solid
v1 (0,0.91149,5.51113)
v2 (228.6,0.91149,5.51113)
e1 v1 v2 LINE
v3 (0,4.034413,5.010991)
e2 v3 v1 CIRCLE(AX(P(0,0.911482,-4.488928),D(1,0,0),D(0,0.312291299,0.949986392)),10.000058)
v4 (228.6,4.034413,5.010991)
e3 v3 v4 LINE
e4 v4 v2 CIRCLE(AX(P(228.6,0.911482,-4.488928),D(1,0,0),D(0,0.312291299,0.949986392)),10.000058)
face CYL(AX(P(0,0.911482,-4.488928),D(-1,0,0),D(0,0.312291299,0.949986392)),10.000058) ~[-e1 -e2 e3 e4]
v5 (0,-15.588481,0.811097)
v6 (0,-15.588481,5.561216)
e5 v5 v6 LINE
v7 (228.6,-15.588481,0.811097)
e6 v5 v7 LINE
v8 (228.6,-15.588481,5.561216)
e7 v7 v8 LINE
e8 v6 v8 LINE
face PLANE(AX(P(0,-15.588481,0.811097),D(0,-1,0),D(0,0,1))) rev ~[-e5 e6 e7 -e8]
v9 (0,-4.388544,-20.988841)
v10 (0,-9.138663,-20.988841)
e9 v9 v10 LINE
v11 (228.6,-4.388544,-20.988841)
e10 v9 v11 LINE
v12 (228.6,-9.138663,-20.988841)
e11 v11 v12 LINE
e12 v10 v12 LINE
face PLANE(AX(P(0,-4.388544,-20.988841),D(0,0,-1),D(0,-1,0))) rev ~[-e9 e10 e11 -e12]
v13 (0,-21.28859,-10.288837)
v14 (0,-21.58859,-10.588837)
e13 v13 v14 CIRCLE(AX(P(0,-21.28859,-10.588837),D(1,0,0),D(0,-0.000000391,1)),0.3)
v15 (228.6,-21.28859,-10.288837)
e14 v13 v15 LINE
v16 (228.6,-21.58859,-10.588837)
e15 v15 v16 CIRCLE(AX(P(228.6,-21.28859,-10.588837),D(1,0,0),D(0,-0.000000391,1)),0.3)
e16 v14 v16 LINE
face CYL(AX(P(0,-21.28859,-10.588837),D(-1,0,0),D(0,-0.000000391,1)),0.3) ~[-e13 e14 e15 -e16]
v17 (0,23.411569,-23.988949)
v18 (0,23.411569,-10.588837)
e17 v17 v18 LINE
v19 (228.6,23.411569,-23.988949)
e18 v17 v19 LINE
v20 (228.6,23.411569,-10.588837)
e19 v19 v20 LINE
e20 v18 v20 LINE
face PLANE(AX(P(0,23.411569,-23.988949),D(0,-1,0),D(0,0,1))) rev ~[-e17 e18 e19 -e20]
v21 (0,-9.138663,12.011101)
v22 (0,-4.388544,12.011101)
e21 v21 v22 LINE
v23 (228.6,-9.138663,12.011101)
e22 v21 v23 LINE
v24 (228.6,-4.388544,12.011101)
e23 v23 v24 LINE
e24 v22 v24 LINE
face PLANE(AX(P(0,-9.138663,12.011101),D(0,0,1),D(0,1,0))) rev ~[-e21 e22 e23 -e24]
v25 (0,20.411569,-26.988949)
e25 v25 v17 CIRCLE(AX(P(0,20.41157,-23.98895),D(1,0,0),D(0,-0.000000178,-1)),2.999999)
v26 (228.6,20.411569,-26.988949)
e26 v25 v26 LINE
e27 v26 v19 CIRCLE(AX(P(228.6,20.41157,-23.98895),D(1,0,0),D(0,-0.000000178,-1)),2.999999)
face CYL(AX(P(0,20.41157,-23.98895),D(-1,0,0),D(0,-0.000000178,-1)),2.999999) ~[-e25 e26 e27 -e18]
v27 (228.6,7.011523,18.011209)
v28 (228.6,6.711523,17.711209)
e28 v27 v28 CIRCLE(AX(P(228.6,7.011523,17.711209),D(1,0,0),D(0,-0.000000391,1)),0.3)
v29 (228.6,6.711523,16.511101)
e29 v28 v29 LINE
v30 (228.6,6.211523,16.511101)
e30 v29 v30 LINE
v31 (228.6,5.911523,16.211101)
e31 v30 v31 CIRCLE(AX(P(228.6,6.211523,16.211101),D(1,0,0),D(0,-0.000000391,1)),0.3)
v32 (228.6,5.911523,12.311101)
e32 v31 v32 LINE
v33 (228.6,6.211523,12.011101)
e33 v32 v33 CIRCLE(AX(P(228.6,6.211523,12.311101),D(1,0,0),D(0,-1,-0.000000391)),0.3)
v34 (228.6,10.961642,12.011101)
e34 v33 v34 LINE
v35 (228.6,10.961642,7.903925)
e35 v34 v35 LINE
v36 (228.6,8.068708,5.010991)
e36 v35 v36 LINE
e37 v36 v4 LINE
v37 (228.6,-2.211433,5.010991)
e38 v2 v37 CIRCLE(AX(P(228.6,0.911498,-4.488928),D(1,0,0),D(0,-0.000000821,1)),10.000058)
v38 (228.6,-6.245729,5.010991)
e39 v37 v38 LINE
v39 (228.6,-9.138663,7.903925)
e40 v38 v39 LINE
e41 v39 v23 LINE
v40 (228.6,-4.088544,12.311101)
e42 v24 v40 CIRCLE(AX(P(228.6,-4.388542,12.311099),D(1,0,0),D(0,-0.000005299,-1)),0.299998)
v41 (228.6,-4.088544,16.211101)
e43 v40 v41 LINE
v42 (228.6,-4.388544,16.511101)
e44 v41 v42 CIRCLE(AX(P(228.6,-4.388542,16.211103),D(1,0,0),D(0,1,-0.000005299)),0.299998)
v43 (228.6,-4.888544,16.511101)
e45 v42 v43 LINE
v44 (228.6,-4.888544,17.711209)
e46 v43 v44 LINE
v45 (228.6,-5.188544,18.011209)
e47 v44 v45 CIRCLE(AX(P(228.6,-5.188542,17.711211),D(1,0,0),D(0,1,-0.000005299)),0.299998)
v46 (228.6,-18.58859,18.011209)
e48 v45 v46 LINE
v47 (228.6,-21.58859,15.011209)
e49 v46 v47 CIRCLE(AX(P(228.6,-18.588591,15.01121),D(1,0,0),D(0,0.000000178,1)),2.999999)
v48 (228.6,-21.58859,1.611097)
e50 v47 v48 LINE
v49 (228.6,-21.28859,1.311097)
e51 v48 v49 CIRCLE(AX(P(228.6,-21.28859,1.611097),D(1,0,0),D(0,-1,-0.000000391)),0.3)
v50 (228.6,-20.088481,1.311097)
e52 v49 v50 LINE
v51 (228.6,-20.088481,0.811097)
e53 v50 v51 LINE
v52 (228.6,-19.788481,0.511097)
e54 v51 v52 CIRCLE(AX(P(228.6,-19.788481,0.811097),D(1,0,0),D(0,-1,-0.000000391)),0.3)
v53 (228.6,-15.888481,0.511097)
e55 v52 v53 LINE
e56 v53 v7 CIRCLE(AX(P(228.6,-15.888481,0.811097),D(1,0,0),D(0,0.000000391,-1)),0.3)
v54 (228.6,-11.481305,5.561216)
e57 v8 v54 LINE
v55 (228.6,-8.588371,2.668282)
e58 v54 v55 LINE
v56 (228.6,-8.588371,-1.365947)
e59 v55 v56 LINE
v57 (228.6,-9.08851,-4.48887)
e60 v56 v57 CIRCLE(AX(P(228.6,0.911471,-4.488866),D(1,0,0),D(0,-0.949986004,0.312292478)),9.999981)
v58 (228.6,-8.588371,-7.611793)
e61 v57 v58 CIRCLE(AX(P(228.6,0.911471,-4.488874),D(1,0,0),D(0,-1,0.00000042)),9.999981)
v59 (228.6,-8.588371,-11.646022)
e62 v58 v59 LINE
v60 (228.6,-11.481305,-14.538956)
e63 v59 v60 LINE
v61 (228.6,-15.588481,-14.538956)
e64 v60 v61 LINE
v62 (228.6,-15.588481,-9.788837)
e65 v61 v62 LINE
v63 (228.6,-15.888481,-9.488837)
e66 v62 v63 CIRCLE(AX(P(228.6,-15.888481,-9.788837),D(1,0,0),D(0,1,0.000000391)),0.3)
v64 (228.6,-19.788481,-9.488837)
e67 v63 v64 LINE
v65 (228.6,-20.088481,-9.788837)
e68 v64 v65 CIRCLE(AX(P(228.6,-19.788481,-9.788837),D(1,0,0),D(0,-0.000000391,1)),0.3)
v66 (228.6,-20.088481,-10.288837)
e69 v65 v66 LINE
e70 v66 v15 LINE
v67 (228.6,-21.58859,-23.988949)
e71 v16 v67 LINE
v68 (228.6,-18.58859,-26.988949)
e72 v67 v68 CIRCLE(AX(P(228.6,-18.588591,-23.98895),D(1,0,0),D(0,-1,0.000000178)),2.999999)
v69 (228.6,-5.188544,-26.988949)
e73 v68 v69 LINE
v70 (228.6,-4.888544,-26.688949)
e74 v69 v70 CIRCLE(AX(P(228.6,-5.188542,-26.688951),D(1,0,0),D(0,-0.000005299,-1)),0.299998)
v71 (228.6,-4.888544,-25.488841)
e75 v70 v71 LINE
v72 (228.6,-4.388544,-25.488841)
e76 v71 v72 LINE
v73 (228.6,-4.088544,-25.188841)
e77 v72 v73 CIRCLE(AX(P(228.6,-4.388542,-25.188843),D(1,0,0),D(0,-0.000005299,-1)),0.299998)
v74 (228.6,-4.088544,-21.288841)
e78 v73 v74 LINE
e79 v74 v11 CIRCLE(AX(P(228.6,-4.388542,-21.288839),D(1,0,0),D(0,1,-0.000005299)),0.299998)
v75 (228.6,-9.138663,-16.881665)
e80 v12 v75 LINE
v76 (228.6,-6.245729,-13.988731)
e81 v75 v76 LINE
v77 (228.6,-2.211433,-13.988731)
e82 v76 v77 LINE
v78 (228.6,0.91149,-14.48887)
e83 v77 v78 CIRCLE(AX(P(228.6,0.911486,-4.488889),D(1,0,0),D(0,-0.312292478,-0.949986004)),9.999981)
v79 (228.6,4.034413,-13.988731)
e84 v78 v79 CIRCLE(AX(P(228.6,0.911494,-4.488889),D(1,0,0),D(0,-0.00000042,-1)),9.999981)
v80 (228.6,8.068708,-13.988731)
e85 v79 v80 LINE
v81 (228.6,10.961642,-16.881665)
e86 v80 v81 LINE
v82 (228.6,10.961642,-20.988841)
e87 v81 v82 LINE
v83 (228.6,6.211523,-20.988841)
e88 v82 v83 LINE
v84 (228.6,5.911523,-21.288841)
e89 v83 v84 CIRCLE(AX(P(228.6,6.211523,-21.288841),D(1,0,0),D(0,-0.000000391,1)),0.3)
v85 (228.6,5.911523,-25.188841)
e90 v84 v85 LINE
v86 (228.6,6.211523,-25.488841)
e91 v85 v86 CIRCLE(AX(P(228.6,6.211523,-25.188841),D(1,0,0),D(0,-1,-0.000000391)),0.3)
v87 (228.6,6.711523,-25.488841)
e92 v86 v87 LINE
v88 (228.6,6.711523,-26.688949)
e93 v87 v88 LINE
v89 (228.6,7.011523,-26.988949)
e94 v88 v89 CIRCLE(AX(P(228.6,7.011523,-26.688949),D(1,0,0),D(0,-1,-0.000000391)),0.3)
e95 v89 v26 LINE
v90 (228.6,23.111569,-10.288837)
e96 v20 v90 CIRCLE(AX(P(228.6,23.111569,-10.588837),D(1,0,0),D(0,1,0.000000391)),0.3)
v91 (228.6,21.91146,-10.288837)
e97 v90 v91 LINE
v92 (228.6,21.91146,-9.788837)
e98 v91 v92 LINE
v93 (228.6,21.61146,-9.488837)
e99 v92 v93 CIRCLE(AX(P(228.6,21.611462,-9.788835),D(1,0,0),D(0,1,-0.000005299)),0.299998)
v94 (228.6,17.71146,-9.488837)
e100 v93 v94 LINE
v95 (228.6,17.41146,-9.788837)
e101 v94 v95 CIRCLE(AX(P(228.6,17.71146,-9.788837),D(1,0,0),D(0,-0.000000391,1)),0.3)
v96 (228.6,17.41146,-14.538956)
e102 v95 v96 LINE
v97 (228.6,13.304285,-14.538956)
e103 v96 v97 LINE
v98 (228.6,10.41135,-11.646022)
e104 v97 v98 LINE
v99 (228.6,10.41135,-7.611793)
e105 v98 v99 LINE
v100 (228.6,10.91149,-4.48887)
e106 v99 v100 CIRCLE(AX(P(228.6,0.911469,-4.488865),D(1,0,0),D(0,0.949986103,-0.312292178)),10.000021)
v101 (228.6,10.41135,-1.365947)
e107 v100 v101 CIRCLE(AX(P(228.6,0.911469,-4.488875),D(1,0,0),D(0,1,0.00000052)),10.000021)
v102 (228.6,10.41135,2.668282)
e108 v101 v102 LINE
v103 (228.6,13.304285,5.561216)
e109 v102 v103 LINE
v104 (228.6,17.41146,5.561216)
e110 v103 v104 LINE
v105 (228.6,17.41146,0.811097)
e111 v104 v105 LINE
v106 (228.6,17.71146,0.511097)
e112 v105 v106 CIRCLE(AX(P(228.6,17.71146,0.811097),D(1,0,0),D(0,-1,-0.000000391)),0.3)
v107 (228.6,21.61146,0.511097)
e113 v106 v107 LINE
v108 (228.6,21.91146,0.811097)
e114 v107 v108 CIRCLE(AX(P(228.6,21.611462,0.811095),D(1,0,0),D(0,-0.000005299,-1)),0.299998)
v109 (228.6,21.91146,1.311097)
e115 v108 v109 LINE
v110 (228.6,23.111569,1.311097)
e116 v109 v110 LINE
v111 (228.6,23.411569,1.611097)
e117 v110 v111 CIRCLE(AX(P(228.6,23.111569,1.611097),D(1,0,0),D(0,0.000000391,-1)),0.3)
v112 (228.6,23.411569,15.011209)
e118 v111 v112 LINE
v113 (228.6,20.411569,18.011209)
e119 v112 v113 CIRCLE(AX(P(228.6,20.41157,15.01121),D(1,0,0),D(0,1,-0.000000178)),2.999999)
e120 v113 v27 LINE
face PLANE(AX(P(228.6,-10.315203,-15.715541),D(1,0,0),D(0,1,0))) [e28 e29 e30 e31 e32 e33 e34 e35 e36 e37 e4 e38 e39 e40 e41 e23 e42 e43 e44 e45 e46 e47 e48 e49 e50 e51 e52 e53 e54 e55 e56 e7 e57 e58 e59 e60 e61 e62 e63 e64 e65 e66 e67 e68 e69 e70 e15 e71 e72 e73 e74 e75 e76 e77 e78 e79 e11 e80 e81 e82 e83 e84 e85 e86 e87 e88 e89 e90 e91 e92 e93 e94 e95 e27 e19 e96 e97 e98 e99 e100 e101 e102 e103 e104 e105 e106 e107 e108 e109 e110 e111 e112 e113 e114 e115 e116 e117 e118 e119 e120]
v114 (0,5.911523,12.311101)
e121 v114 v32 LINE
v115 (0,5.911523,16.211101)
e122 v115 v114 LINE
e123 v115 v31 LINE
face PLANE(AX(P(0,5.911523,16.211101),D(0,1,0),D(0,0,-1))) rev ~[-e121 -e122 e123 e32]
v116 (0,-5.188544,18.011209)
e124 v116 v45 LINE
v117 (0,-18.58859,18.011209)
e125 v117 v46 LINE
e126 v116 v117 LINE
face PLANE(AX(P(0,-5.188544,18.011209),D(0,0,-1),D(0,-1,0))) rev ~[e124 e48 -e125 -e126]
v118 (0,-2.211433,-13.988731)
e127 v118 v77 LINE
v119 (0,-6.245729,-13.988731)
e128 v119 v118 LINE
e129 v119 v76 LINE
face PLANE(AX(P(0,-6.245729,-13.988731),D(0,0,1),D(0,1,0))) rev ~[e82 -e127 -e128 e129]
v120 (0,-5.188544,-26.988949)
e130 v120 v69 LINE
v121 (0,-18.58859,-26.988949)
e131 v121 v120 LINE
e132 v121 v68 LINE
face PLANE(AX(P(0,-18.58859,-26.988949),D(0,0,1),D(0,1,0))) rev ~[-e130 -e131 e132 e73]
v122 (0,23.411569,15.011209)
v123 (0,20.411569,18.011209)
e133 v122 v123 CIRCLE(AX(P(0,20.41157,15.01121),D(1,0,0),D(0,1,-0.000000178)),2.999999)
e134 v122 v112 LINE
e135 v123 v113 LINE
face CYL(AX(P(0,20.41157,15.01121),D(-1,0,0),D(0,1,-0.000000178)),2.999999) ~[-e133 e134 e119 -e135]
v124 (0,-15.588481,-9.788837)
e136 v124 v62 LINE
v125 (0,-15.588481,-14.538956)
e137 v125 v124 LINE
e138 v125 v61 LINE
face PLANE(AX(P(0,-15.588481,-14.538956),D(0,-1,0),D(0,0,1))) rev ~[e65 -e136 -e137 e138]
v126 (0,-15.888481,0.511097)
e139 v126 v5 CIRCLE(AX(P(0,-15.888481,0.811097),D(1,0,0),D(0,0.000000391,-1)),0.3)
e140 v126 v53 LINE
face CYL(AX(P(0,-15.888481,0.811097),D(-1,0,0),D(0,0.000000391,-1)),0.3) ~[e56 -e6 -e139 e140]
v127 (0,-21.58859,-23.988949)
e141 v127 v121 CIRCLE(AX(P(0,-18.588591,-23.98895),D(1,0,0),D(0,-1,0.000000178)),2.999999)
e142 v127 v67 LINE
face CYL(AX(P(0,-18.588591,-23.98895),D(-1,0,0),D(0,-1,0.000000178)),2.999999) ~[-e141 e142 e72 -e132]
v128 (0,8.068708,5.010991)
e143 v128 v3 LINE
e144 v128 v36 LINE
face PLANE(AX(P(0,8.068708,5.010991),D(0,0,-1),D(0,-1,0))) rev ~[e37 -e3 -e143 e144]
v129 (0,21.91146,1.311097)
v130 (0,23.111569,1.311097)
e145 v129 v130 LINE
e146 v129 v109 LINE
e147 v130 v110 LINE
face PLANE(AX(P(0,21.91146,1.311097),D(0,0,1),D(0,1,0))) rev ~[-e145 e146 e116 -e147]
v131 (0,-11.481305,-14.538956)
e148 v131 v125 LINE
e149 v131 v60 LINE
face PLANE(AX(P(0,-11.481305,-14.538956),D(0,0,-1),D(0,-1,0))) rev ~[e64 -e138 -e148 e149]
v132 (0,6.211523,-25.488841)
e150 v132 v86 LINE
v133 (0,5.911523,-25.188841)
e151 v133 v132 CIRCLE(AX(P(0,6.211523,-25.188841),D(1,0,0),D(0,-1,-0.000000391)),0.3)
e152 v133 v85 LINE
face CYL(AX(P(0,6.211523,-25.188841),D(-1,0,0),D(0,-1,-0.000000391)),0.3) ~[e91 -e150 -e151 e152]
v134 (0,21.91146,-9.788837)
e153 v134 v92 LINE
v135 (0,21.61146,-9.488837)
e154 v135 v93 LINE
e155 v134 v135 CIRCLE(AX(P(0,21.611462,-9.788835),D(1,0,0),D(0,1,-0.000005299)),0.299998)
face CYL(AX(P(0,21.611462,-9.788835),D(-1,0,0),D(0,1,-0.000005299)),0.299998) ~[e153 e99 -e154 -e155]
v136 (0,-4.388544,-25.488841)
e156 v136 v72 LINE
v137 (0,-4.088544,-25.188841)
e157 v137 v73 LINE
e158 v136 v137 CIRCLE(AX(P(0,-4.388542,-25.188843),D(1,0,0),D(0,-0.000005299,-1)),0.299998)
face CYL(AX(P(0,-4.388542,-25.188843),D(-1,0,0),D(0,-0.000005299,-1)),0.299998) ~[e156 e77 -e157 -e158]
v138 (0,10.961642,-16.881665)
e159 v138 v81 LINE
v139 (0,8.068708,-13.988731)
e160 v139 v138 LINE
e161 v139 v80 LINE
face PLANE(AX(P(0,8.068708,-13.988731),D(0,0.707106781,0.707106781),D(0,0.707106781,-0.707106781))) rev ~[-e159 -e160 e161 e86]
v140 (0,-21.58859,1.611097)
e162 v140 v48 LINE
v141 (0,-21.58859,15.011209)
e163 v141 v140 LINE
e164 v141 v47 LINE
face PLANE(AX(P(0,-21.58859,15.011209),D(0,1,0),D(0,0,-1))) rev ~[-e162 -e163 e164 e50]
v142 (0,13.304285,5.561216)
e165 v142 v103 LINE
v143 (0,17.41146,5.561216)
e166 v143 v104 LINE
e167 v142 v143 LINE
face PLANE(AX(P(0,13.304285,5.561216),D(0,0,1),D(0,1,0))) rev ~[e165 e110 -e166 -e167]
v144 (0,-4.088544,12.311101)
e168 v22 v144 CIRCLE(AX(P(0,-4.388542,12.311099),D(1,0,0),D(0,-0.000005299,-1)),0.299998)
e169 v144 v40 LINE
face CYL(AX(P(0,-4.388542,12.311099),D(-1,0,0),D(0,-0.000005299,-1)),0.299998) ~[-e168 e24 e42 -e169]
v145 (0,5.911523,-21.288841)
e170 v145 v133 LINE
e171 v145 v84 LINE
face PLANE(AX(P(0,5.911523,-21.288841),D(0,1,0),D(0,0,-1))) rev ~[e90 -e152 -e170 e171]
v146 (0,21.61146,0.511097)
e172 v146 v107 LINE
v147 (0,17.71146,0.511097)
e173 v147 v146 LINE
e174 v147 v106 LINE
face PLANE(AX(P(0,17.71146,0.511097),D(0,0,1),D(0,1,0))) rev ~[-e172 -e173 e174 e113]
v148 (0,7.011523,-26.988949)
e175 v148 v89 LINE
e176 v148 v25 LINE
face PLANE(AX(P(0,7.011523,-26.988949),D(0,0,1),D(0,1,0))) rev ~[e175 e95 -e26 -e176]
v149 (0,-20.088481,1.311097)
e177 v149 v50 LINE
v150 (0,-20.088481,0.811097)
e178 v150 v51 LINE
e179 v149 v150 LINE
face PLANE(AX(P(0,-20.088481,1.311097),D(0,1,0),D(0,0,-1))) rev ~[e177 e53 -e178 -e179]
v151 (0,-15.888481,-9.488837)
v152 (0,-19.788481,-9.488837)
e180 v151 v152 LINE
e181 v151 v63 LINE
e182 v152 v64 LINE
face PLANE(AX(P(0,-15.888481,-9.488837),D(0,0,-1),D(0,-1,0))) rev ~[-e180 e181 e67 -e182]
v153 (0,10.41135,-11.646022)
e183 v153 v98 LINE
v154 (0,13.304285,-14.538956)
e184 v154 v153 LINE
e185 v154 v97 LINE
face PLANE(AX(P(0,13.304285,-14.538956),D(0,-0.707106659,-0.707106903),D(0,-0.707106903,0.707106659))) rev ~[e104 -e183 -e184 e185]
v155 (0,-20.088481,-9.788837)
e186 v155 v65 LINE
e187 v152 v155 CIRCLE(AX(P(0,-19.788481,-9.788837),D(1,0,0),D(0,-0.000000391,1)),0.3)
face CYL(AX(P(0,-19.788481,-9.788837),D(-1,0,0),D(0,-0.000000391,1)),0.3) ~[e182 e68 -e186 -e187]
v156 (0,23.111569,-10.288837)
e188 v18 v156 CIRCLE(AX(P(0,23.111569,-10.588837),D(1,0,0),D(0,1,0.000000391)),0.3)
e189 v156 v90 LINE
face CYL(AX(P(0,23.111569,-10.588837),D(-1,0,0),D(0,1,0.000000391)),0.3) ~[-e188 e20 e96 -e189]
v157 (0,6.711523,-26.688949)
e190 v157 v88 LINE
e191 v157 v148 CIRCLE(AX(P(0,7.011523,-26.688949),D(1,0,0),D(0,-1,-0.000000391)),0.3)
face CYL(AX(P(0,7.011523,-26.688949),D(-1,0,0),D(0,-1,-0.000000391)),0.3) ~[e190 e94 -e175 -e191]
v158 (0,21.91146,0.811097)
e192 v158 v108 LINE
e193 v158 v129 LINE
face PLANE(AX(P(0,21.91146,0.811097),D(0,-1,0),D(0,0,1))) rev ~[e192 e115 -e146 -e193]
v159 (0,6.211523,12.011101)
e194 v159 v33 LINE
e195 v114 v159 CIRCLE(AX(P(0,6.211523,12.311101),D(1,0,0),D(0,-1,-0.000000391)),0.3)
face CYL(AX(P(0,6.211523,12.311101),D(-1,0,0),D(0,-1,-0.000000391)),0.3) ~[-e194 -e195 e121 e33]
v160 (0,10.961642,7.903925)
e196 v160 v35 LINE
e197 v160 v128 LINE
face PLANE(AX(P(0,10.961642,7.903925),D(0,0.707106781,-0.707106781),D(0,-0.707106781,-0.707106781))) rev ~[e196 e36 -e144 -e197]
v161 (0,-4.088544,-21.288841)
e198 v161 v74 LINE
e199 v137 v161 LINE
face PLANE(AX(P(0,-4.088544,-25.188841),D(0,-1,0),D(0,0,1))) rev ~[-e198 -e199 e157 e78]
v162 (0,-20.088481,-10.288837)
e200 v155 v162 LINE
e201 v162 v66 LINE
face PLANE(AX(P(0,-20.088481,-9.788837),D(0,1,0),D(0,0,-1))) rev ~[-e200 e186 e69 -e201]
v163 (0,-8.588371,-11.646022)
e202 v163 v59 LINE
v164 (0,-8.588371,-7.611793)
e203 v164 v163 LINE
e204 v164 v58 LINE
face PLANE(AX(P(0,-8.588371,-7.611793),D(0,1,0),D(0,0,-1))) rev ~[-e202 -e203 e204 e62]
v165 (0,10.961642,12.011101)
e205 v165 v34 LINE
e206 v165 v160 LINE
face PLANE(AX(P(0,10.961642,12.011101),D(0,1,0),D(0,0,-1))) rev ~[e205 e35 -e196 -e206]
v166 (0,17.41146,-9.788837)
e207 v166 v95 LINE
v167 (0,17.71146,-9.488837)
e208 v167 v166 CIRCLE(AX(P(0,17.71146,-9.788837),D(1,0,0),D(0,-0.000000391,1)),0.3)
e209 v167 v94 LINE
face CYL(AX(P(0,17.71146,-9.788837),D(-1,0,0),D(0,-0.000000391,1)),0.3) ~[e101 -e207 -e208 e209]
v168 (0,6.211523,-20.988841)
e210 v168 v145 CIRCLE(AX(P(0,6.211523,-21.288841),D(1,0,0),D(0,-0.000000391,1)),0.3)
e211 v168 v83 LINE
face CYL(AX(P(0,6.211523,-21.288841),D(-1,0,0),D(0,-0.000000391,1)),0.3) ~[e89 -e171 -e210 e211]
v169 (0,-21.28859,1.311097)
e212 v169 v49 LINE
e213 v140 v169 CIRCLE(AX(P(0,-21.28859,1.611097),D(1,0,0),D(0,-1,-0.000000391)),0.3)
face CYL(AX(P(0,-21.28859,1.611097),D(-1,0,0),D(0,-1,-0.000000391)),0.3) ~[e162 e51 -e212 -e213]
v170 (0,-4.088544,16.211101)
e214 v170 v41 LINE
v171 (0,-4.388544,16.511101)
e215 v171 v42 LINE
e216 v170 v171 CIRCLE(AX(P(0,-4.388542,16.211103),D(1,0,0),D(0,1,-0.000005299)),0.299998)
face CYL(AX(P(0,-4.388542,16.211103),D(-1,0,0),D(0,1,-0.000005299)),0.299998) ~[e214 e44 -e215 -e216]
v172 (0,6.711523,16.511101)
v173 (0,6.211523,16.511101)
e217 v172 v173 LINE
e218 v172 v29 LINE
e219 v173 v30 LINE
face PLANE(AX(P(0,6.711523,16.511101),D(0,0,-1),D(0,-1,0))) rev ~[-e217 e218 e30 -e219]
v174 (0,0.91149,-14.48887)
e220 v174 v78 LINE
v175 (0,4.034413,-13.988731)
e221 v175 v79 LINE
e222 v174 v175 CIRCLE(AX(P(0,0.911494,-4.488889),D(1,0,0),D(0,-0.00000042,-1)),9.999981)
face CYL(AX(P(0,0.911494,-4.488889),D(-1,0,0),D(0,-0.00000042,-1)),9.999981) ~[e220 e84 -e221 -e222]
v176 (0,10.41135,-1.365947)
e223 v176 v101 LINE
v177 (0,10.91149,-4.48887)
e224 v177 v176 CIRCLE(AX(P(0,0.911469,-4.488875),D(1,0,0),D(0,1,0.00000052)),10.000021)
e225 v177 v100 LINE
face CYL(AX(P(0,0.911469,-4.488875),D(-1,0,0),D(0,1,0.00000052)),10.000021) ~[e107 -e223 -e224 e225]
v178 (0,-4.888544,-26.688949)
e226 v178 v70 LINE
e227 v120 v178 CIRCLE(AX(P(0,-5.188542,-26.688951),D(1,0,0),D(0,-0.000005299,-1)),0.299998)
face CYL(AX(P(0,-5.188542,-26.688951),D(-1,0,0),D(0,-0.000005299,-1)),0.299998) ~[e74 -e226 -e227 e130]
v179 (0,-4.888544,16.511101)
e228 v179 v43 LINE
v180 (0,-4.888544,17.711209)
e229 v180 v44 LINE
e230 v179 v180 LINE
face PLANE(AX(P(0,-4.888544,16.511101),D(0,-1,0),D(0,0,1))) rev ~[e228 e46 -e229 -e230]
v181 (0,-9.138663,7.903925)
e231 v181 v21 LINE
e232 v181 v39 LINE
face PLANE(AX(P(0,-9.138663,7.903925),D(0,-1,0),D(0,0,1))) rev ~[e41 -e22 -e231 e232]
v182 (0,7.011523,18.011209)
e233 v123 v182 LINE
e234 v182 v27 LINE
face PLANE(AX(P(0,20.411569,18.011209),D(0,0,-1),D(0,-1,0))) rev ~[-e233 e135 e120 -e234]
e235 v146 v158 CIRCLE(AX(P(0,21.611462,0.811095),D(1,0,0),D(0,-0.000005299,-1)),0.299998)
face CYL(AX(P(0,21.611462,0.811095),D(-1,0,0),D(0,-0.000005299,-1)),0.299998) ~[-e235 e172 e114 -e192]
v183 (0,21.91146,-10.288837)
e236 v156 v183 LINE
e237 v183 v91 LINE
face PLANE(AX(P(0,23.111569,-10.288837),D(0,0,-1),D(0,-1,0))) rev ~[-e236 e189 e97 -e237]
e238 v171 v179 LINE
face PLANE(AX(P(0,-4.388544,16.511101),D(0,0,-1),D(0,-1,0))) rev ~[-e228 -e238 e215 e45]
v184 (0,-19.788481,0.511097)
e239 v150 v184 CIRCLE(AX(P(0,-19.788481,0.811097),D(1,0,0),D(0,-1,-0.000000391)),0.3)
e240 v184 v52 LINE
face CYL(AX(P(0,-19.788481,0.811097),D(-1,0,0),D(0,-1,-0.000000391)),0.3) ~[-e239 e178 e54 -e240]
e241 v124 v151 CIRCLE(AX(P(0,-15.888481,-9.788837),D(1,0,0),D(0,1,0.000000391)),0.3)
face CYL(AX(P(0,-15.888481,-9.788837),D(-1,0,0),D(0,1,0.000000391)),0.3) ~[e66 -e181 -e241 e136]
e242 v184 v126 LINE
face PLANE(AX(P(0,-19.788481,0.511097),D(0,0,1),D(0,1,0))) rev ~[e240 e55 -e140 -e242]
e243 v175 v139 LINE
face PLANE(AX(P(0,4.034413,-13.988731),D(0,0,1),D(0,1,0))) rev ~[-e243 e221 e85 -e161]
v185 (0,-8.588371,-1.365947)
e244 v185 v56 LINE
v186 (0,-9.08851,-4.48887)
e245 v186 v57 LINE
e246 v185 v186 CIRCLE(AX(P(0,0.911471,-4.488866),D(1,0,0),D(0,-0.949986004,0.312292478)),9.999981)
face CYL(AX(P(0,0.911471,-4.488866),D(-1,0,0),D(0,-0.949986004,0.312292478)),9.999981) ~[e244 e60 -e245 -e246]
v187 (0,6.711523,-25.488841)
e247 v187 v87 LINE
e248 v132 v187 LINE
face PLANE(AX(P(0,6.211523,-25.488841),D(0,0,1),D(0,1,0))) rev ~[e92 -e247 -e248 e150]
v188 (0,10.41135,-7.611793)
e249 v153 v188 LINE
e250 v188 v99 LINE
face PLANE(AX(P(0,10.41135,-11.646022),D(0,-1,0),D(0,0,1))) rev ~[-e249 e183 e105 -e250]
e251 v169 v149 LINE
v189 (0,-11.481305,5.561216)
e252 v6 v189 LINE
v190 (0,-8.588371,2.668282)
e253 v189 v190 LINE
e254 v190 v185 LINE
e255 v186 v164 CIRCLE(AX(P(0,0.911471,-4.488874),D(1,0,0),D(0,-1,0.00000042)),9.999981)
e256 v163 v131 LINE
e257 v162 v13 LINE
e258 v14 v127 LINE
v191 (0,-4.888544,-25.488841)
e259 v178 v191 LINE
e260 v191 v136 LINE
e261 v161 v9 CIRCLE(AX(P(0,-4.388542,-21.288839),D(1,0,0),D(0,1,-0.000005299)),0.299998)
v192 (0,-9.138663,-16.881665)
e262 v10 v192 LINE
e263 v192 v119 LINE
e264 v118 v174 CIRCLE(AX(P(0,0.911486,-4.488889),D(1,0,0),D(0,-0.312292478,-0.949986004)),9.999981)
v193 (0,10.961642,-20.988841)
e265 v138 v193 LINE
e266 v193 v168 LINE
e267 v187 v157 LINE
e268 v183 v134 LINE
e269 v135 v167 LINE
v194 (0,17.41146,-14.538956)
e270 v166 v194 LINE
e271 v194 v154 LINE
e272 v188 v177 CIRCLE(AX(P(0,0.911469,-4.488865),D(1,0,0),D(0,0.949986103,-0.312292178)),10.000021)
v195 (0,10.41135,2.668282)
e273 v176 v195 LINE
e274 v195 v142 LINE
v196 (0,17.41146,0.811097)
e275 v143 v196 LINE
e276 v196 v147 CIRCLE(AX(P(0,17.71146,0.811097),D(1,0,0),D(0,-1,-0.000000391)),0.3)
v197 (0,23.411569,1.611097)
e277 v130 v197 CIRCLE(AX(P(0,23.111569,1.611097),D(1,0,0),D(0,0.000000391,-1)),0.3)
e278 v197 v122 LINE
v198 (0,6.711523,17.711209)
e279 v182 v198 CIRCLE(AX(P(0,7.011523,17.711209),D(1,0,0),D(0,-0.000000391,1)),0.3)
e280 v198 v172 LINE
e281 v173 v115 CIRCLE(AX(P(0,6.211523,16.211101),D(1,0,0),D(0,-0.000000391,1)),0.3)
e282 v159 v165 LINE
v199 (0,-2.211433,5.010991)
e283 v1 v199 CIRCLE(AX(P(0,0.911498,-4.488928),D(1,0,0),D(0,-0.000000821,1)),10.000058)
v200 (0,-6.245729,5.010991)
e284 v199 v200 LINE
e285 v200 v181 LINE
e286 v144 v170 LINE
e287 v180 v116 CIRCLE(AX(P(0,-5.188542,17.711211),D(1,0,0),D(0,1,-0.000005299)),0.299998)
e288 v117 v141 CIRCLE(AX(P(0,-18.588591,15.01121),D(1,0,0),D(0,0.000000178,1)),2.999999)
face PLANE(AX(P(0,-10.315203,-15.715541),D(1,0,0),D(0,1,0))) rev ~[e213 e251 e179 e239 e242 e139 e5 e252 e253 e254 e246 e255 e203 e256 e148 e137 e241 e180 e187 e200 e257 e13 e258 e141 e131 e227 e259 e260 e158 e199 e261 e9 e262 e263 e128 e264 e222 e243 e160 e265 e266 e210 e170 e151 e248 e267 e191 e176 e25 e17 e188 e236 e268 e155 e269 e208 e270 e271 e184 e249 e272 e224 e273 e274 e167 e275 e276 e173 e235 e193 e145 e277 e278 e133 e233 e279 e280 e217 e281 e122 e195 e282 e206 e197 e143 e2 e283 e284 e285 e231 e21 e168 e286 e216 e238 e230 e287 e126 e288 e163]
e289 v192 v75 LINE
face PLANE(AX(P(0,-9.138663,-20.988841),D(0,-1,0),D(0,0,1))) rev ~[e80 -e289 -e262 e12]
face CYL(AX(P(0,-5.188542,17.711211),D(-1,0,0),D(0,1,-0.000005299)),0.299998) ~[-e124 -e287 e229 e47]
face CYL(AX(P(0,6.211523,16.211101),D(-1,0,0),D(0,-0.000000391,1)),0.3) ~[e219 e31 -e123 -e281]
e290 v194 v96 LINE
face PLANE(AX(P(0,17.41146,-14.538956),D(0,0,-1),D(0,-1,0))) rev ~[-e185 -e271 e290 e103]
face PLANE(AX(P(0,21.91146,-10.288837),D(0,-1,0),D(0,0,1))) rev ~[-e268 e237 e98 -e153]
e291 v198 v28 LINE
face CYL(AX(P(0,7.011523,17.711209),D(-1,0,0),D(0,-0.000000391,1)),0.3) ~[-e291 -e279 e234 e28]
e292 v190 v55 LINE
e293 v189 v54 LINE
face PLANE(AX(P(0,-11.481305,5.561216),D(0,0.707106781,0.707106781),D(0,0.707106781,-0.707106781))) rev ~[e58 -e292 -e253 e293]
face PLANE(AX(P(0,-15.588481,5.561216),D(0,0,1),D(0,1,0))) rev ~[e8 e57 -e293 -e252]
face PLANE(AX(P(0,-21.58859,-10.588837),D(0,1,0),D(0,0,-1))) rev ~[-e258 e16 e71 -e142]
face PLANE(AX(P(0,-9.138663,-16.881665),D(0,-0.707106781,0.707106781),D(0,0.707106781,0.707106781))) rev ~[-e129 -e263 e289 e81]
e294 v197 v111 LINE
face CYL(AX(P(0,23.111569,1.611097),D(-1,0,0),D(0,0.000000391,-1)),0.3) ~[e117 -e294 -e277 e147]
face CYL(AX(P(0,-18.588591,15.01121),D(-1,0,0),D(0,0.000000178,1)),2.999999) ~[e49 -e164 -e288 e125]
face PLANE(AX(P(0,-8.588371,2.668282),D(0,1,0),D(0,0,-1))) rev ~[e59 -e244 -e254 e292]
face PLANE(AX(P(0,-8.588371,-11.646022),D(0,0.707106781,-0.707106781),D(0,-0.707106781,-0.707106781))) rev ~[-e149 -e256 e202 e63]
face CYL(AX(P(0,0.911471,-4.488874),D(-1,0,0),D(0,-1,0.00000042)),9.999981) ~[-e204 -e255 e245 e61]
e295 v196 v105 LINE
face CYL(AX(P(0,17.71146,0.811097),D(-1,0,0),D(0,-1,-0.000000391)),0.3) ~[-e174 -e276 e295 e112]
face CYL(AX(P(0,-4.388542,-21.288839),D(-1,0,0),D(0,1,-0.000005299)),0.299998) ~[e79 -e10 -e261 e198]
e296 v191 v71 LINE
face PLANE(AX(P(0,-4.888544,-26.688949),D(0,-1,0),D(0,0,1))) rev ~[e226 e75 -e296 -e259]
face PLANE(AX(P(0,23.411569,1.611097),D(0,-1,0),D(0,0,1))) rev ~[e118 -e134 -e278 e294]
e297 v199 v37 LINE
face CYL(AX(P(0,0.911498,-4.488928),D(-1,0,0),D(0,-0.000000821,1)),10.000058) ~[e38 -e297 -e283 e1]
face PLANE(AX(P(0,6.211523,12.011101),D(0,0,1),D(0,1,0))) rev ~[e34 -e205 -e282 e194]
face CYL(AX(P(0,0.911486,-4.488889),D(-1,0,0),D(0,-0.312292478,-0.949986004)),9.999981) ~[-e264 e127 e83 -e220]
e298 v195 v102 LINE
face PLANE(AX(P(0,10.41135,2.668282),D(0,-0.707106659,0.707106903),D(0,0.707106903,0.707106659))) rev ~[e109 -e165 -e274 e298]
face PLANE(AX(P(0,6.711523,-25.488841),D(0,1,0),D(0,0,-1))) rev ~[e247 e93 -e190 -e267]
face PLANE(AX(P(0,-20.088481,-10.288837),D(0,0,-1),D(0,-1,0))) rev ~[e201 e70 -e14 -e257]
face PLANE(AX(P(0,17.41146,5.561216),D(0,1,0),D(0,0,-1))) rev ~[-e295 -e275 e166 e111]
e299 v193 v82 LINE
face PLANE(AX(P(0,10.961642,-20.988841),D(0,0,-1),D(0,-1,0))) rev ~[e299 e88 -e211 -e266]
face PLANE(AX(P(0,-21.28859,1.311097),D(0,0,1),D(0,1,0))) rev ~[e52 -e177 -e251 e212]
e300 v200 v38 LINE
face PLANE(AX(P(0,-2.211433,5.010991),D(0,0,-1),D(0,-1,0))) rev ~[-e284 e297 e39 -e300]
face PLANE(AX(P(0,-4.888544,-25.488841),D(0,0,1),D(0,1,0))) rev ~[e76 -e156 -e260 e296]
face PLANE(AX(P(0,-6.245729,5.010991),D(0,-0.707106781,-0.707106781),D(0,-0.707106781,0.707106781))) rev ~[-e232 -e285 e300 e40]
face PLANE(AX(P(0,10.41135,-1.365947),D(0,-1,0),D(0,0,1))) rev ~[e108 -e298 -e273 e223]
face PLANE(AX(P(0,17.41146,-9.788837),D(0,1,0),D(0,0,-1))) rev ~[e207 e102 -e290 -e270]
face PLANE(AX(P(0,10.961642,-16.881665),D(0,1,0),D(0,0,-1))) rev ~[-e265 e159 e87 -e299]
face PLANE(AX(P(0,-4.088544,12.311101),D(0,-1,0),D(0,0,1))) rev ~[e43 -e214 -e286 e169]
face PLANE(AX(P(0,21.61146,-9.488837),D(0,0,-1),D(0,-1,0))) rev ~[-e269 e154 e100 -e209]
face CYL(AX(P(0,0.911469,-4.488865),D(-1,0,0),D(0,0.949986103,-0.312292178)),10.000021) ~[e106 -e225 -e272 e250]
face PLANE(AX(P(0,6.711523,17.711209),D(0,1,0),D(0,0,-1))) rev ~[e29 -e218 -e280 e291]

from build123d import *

# Parameters (mm, degrees)
F1_DEPTH = 228.6


with BuildPart() as f1:
    # F0 (on Right) → F1 (new body)
    with BuildSketch(Plane.YZ):
        with BuildLine():
            Line((-20.088481, -9.788837), (-20.088481, -10.288837))
            Line((-20.088481, -10.288837), (-21.28859, -10.288837))
            ThreePointArc((-21.28859, -10.288837), (-21.500722, -10.376705), (-21.58859, -10.588837))
            Line((-21.58859, -10.588837), (-21.58859, -23.988949))
            ThreePointArc((-21.58859, -23.988949), (-20.70991, -26.11027), (-18.58859, -26.988949))
            Line((-18.58859, -26.988949), (-5.188544, -26.988949))
            ThreePointArc((-5.188544, -26.988949), (-4.976411, -26.901081), (-4.888544, -26.688949))
            Line((-4.888544, -26.688949), (-4.888544, -25.488841))
            Line((-4.888544, -25.488841), (-4.388544, -25.488841))
            ThreePointArc((-4.388544, -25.488841), (-4.176411, -25.400973), (-4.088544, -25.188841))
            Line((-4.088544, -25.188841), (-4.088544, -21.288841))
            ThreePointArc((-4.088544, -21.288841), (-4.176411, -21.076709), (-4.388544, -20.988841))
            Line((-4.388544, -20.988841), (-9.138663, -20.988841))
            Line((-9.138663, -20.988841), (-9.138663, -16.881665))
            Line((-9.138663, -16.881665), (-6.245729, -13.988731))
            Line((-6.245729, -13.988731), (-2.211433, -13.988731))
            ThreePointArc((-2.211433, -13.988731), (-0.669869, -14.363044), (0.91149, -14.48887))
            Line((0.91149, -14.48887), (0.91149, -4.48887))
            Line((0.91149, -4.48887), (-9.08851, -4.48887))
            ThreePointArc((-9.08851, -4.48887), (-8.962684, -6.070229), (-8.588371, -7.611793))
            Line((-8.588371, -7.611793), (-8.588371, -11.646022))
            Line((-8.588371, -11.646022), (-11.481305, -14.538956))
            Line((-11.481305, -14.538956), (-15.588481, -14.538956))
            Line((-15.588481, -14.538956), (-15.588481, -9.788837))
            ThreePointArc((-15.588481, -9.788837), (-15.676349, -9.576705), (-15.888481, -9.488837))
            Line((-15.888481, -9.488837), (-19.788481, -9.488837))
            ThreePointArc((-19.788481, -9.488837), (-20.000613, -9.576705), (-20.088481, -9.788837))
        make_face()
        with BuildLine():
            ThreePointArc((-8.588371, -1.365947), (-8.962684, -2.907511), (-9.08851, -4.48887))
            Line((-9.08851, -4.48887), (0.91149, -4.48887))
            Line((0.91149, -4.48887), (0.91149, 5.51113))
            ThreePointArc((0.91149, 5.51113), (-0.669869, 5.385303), (-2.211433, 5.010991))
            Line((-2.211433, 5.010991), (-6.245729, 5.010991))
            Line((-6.245729, 5.010991), (-9.138663, 7.903925))
            Line((-9.138663, 7.903925), (-9.138663, 12.011101))
            Line((-9.138663, 12.011101), (-4.388544, 12.011101))
            ThreePointArc((-4.388544, 12.011101), (-4.176411, 12.098969), (-4.088544, 12.311101))
            Line((-4.088544, 12.311101), (-4.088544, 16.211101))
            ThreePointArc((-4.088544, 16.211101), (-4.176411, 16.423233), (-4.388544, 16.511101))
            Line((-4.388544, 16.511101), (-4.888544, 16.511101))
            Line((-4.888544, 16.511101), (-4.888544, 17.711209))
            ThreePointArc((-4.888544, 17.711209), (-4.976411, 17.923341), (-5.188544, 18.011209))
            Line((-5.188544, 18.011209), (-18.58859, 18.011209))
            ThreePointArc((-18.58859, 18.011209), (-20.70991, 17.13253), (-21.58859, 15.011209))
            Line((-21.58859, 15.011209), (-21.58859, 1.611097))
            ThreePointArc((-21.58859, 1.611097), (-21.500722, 1.398965), (-21.28859, 1.311097))
            Line((-21.28859, 1.311097), (-20.088481, 1.311097))
            Line((-20.088481, 1.311097), (-20.088481, 0.811097))
            ThreePointArc((-20.088481, 0.811097), (-20.000613, 0.598965), (-19.788481, 0.511097))
            Line((-19.788481, 0.511097), (-15.888481, 0.511097))
            ThreePointArc((-15.888481, 0.511097), (-15.676349, 0.598965), (-15.588481, 0.811097))
            Line((-15.588481, 0.811097), (-15.588481, 5.561216))
            Line((-15.588481, 5.561216), (-11.481305, 5.561216))
            Line((-11.481305, 5.561216), (-8.588371, 2.668282))
            Line((-8.588371, 2.668282), (-8.588371, -1.365947))
        make_face()
        with BuildLine():
            Line((0.91149, 5.51113), (0.91149, -4.48887))
            Line((0.91149, -4.48887), (10.91149, -4.48887))
            ThreePointArc((10.91149, -4.48887), (10.785663, -2.907511), (10.41135, -1.365947))
            Line((10.41135, -1.365947), (10.41135, 2.668282))
            Line((10.41135, 2.668282), (13.304285, 5.561216))
            Line((13.304285, 5.561216), (14.016842, 5.561216))
            Line((14.016842, 5.561216), (17.41146, 5.561216))
            Line((17.41146, 5.561216), (17.41146, 0.811097))
            ThreePointArc((17.41146, 0.811097), (17.499328, 0.598965), (17.71146, 0.511097))
            Line((17.71146, 0.511097), (21.61146, 0.511097))
            ThreePointArc((21.61146, 0.511097), (21.823593, 0.598965), (21.91146, 0.811097))
            Line((21.91146, 0.811097), (21.91146, 1.311097))
            Line((21.91146, 1.311097), (23.111569, 1.311097))
            ThreePointArc((23.111569, 1.311097), (23.323701, 1.398965), (23.411569, 1.611097))
            Line((23.411569, 1.611097), (23.411569, 15.011209))
            ThreePointArc((23.411569, 15.011209), (22.532889, 17.13253), (20.411569, 18.011209))
            Line((20.411569, 18.011209), (7.011523, 18.011209))
            ThreePointArc((7.011523, 18.011209), (6.799391, 17.923341), (6.711523, 17.711209))
            Line((6.711523, 17.711209), (6.711523, 16.511101))
            Line((6.711523, 16.511101), (6.211523, 16.511101))
            ThreePointArc((6.211523, 16.511101), (5.999391, 16.423233), (5.911523, 16.211101))
            Line((5.911523, 16.211101), (5.911523, 12.311101))
            ThreePointArc((5.911523, 12.311101), (5.999391, 12.098969), (6.211523, 12.011101))
            Line((6.211523, 12.011101), (10.961642, 12.011101))
            Line((10.961642, 12.011101), (10.961642, 7.903925))
            Line((10.961642, 7.903925), (8.068708, 5.010991))
            Line((8.068708, 5.010991), (4.034413, 5.010991))
            ThreePointArc((4.034413, 5.010991), (2.492849, 5.385303), (0.91149, 5.51113))
        make_face()
        with BuildLine():
            Line((10.91149, -4.48887), (0.91149, -4.48887))
            Line((0.91149, -4.48887), (0.91149, -14.48887))
            ThreePointArc((0.91149, -14.48887), (2.492849, -14.363044), (4.034413, -13.988731))
            Line((4.034413, -13.988731), (8.068708, -13.988731))
            Line((8.068708, -13.988731), (10.961642, -16.881665))
            Line((10.961642, -16.881665), (10.961642, -20.988841))
            Line((10.961642, -20.988841), (6.211523, -20.988841))
            ThreePointArc((6.211523, -20.988841), (5.999391, -21.076709), (5.911523, -21.288841))
            Line((5.911523, -21.288841), (5.911523, -25.188841))
            ThreePointArc((5.911523, -25.188841), (5.999391, -25.400973), (6.211523, -25.488841))
            Line((6.211523, -25.488841), (6.711523, -25.488841))
            Line((6.711523, -25.488841), (6.711523, -26.688949))
            ThreePointArc((6.711523, -26.688949), (6.799391, -26.901081), (7.011523, -26.988949))
            Line((7.011523, -26.988949), (20.411569, -26.988949))
            ThreePointArc((20.411569, -26.988949), (22.532889, -26.11027), (23.411569, -23.988949))
            Line((23.411569, -23.988949), (23.411569, -10.588837))
            ThreePointArc((23.411569, -10.588837), (23.323701, -10.376705), (23.111569, -10.288837))
            Line((23.111569, -10.288837), (21.91146, -10.288837))
            Line((21.91146, -10.288837), (21.91146, -9.788837))
            ThreePointArc((21.91146, -9.788837), (21.823593, -9.576705), (21.61146, -9.488837))
            Line((21.61146, -9.488837), (17.71146, -9.488837))
            ThreePointArc((17.71146, -9.488837), (17.499328, -9.576705), (17.41146, -9.788837))
            Line((17.41146, -9.788837), (17.41146, -14.538956))
            Line((17.41146, -14.538956), (13.304285, -14.538956))
            Line((13.304285, -14.538956), (10.41135, -11.646022))
            Line((10.41135, -11.646022), (10.41135, -7.611793))
            ThreePointArc((10.41135, -7.611793), (10.785663, -6.070229), (10.91149, -4.48887))
        make_face()
    extrude(amount=F1_DEPTH)


solid = f1.part
